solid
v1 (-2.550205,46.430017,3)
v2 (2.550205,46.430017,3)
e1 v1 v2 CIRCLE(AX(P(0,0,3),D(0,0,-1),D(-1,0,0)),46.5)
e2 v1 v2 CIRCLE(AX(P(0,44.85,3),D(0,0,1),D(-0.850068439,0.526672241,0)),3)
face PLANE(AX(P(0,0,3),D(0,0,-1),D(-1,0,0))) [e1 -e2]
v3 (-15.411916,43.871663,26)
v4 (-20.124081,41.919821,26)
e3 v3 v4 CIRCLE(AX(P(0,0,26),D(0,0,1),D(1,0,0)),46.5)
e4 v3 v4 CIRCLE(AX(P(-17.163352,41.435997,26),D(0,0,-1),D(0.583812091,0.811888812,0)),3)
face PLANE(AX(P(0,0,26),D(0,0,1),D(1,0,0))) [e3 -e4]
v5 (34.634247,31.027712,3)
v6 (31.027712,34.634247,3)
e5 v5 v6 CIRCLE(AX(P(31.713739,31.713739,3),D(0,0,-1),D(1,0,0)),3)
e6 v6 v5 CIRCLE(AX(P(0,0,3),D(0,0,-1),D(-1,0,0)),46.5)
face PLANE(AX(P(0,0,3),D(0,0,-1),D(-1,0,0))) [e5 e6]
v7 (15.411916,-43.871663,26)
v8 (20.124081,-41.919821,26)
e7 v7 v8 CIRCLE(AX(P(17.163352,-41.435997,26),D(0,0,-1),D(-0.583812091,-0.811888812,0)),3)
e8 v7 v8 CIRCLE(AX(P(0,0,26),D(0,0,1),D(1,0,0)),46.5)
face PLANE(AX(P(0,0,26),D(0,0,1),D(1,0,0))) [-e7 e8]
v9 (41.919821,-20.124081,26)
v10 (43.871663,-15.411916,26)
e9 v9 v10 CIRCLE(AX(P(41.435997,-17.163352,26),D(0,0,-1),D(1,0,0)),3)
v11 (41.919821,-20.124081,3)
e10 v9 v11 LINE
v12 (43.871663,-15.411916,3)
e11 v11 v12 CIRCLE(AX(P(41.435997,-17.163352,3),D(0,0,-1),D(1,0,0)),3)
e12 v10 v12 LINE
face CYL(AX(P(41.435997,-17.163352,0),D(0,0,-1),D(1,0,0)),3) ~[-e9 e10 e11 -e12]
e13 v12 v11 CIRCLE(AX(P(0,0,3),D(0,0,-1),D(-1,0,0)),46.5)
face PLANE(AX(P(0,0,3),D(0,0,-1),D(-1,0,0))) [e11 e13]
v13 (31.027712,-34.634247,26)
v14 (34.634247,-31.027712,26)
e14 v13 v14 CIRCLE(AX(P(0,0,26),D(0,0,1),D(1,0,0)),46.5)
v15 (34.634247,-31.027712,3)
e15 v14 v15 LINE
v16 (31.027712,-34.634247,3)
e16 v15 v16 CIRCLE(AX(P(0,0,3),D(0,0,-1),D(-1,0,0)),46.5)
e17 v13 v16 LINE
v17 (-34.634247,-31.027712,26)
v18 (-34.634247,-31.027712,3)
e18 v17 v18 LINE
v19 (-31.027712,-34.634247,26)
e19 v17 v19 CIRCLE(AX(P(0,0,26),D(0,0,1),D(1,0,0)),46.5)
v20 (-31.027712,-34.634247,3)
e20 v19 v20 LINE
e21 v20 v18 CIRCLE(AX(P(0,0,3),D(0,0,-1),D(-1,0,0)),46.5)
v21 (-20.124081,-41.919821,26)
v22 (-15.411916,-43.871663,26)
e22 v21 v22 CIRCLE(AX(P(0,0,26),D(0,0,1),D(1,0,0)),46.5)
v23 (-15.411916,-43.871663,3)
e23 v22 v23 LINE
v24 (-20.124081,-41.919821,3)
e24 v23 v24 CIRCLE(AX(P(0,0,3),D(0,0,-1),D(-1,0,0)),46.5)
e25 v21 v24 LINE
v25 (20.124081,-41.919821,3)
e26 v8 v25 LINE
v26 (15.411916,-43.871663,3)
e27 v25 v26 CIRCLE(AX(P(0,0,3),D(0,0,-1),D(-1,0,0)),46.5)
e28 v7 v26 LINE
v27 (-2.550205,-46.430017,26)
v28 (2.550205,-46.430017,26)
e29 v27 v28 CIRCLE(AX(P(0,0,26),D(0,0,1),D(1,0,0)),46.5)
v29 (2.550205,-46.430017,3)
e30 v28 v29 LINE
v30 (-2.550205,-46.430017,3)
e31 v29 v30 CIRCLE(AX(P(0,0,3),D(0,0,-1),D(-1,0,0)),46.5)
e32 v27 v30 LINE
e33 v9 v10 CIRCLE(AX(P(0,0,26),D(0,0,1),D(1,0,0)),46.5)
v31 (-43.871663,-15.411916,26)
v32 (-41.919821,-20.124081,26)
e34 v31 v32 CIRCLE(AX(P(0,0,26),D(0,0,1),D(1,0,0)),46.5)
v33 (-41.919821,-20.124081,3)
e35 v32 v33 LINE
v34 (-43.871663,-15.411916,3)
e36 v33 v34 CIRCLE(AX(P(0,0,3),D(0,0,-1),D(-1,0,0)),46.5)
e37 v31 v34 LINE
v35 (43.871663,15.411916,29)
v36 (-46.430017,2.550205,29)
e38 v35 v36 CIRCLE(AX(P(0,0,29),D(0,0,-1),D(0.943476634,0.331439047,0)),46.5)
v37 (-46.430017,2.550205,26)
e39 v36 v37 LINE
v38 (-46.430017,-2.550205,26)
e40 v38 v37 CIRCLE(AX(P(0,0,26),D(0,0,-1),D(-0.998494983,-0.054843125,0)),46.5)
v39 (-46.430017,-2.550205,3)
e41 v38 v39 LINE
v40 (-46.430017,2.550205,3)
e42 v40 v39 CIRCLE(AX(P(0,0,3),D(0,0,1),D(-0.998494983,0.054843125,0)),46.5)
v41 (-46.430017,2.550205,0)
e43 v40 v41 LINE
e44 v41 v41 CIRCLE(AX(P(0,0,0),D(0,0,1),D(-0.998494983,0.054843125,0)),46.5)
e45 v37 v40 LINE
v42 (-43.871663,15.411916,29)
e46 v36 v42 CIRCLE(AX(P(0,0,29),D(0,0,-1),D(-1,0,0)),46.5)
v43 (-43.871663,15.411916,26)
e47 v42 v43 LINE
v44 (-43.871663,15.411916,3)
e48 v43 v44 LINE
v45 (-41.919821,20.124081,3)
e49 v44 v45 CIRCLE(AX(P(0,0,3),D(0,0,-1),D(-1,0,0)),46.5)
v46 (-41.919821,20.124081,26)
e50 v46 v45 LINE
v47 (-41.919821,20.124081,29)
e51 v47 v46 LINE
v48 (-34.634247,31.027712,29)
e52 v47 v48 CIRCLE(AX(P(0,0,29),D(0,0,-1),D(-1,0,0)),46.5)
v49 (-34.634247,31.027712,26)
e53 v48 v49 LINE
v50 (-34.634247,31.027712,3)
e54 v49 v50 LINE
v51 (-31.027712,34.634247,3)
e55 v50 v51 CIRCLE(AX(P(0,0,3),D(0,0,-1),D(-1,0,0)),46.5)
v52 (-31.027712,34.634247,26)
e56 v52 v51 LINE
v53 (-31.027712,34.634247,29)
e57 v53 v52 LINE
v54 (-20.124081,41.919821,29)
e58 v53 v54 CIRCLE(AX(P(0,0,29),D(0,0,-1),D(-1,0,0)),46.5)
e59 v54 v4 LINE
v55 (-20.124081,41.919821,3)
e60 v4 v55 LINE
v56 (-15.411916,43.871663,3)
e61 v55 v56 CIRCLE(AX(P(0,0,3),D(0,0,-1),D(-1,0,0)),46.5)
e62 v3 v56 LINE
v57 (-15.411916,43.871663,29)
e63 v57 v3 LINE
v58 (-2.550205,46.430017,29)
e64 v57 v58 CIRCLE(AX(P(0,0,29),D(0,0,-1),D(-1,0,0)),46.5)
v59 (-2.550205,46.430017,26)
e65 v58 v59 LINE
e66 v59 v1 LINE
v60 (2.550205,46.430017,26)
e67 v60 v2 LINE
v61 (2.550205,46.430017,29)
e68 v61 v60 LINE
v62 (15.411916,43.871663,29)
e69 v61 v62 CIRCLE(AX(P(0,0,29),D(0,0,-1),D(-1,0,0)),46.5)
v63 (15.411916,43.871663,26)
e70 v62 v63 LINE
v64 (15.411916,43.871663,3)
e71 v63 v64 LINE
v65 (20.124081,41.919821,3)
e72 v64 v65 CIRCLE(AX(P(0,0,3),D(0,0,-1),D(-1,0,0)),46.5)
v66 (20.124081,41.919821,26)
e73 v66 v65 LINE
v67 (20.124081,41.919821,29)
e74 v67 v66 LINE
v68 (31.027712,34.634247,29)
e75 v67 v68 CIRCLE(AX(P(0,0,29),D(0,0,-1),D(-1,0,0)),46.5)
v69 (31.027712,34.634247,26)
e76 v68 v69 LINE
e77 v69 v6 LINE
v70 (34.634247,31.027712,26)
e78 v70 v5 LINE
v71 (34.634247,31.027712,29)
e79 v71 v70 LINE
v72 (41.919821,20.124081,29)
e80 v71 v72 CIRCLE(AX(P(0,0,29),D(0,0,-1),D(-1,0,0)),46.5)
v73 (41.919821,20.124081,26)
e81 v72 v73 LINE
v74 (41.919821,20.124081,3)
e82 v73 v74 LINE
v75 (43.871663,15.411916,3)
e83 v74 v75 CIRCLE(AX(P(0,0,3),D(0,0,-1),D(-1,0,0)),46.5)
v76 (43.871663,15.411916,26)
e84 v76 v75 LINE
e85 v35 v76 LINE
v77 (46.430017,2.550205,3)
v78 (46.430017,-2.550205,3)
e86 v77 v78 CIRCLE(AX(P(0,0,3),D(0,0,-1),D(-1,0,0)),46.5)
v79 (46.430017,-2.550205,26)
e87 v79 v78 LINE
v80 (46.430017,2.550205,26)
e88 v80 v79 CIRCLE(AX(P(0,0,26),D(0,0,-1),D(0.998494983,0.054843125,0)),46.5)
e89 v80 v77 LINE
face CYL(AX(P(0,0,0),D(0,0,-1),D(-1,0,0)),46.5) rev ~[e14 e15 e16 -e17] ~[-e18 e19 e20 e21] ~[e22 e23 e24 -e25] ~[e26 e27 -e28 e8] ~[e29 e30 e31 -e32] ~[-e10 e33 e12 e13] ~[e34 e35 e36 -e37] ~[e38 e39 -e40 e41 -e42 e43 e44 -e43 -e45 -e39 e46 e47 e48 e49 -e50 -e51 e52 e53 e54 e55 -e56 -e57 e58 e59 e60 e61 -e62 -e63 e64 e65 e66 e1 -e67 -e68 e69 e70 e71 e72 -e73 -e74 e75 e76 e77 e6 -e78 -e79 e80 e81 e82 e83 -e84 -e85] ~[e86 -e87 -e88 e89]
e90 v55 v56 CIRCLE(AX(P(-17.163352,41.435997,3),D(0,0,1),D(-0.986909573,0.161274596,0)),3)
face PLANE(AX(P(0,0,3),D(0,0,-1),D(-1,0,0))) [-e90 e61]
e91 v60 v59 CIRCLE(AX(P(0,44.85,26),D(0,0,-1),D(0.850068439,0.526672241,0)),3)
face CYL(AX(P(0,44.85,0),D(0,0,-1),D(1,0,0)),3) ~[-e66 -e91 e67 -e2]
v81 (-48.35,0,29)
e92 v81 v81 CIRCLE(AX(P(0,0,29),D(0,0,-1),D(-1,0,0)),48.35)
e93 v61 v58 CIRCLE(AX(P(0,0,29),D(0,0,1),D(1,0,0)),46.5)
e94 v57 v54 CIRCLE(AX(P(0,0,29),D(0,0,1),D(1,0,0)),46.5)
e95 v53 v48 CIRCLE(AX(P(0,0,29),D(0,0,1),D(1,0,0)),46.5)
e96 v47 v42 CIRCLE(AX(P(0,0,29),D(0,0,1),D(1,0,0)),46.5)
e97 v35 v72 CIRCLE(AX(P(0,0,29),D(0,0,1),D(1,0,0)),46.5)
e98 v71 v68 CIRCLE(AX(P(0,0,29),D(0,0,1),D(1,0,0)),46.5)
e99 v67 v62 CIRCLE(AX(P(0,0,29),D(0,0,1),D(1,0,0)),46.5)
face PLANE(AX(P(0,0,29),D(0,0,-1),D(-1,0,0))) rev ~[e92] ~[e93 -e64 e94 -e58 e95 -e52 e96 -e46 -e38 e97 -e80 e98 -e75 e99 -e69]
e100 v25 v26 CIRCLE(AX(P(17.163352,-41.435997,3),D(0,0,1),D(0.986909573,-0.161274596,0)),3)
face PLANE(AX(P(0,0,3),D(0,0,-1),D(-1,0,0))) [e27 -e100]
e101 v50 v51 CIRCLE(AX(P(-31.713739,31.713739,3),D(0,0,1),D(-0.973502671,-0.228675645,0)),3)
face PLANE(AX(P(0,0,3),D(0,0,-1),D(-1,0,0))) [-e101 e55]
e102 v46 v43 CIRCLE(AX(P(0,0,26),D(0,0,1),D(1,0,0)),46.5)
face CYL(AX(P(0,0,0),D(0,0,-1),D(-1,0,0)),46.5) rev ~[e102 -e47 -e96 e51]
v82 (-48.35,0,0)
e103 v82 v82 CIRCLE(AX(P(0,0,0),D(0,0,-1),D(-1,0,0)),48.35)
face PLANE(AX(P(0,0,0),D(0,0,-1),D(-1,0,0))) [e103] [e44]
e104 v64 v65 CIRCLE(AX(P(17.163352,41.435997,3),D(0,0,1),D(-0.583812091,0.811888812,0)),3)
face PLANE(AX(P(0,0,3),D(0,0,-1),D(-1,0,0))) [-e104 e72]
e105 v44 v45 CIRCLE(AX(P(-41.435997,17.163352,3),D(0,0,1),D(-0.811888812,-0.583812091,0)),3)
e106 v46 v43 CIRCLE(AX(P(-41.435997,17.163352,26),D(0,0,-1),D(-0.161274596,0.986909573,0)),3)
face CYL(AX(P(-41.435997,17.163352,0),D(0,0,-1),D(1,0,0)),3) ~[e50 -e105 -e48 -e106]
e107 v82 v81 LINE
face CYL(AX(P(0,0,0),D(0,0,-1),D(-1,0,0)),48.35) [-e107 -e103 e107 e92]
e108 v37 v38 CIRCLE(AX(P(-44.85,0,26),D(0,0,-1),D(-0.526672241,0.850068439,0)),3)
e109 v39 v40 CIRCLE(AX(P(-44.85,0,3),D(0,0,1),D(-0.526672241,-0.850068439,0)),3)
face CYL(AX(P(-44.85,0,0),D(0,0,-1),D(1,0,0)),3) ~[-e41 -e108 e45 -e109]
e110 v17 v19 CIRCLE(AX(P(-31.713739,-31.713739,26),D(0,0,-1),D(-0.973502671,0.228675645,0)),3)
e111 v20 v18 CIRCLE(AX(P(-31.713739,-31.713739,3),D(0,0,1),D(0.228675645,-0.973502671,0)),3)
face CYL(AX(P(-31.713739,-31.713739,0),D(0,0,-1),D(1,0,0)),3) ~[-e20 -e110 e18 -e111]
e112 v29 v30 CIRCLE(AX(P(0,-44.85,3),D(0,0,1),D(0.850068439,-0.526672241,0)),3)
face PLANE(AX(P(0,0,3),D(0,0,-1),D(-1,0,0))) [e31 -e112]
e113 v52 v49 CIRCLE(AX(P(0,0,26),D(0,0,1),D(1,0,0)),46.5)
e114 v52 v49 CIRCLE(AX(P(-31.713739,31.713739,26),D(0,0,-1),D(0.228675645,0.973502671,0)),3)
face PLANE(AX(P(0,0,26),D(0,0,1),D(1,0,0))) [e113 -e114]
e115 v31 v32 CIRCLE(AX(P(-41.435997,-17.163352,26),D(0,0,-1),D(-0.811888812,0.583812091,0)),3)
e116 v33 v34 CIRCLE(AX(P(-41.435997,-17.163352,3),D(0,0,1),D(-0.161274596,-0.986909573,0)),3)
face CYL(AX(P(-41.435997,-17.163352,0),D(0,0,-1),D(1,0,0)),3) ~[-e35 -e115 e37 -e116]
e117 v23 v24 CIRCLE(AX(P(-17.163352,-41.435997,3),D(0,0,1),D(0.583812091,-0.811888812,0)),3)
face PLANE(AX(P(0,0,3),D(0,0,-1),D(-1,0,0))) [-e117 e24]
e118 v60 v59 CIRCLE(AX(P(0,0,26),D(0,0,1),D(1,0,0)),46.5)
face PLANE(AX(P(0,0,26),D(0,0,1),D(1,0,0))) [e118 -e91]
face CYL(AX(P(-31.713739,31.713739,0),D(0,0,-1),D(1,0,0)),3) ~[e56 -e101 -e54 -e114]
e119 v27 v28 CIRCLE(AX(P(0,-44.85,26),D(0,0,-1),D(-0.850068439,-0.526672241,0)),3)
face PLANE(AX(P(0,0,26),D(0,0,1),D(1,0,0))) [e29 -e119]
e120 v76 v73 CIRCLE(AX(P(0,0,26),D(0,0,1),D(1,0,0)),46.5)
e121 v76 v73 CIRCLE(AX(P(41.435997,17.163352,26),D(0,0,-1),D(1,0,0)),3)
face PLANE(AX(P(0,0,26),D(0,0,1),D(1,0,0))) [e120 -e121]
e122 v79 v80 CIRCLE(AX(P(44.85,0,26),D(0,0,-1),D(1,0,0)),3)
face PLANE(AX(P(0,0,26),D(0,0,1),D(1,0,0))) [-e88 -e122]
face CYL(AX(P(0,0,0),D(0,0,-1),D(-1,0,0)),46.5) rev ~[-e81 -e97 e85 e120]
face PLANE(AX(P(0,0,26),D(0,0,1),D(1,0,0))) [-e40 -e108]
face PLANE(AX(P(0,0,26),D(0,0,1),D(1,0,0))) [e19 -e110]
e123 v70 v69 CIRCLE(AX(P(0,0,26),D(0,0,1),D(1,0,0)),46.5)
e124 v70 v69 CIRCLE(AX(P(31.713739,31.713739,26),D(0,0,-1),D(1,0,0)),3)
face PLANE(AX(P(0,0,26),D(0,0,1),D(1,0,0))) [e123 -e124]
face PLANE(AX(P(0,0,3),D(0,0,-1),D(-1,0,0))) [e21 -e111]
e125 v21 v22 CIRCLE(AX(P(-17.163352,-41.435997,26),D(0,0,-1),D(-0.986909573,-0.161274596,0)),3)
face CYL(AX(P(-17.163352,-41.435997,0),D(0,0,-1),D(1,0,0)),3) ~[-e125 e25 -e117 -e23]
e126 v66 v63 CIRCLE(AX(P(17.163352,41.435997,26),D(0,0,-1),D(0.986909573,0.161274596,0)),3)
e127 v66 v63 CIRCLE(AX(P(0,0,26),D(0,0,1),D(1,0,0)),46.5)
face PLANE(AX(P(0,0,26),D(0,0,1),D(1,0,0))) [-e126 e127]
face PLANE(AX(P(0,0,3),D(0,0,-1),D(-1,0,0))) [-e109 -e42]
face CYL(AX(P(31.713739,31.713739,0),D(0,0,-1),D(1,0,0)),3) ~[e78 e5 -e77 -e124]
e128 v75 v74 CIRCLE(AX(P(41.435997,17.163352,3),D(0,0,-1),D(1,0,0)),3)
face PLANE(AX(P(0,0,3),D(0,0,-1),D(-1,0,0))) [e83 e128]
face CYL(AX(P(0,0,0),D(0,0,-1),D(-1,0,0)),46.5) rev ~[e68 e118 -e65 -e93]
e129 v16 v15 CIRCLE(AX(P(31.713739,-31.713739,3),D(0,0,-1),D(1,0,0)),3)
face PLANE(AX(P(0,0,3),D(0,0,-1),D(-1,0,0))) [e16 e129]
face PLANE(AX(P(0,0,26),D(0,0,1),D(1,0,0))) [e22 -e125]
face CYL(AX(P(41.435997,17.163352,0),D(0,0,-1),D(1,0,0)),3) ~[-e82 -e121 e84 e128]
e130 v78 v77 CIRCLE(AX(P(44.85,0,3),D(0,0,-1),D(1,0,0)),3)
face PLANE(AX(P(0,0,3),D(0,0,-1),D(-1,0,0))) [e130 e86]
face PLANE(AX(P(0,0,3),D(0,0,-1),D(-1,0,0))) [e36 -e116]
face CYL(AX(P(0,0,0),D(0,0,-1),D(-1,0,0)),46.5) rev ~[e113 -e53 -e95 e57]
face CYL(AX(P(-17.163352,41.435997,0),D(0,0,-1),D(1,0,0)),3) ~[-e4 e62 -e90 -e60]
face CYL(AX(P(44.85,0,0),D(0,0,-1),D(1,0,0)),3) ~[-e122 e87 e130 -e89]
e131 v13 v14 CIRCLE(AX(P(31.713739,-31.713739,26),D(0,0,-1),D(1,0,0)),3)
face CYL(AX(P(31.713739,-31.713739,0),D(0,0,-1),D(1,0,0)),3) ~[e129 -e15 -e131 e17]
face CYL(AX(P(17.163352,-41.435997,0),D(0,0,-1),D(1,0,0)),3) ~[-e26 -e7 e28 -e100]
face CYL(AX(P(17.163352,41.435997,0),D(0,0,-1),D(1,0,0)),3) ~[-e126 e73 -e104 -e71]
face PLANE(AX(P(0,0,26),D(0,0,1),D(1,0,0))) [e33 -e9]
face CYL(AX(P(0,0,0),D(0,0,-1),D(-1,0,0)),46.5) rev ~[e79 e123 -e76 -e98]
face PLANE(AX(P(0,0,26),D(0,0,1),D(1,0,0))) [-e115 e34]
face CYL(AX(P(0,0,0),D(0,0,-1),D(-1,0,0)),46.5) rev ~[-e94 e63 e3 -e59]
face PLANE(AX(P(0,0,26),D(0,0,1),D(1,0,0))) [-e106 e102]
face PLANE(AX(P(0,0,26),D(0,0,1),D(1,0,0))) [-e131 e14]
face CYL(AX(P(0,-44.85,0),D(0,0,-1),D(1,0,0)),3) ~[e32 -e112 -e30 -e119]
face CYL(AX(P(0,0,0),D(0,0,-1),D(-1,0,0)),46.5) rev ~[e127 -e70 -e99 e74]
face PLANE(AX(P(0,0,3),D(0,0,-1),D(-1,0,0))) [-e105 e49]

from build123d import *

# Parameters (mm, degrees)
SKETCH1_R              = 3
BOSS_EXTRUDE2_DEPTH    = 29
BOSS_EXTRUDE2_2_DEPTH  = 29
BOSS_EXTRUDE2_3_DEPTH  = 29
BOSS_EXTRUDE2_4_DEPTH  = 29
BOSS_EXTRUDE2_5_DEPTH  = 29
BOSS_EXTRUDE2_6_DEPTH  = 29
BOSS_EXTRUDE2_7_DEPTH  = 29
BOSS_EXTRUDE2_8_DEPTH  = 29
BOSS_EXTRUDE2_9_DEPTH  = 29
BOSS_EXTRUDE2_10_DEPTH = 29
BOSS_EXTRUDE2_11_DEPTH = 29
BOSS_EXTRUDE2_12_DEPTH = 29
BOSS_EXTRUDE2_13_DEPTH = 29
BOSS_EXTRUDE2_14_DEPTH = 29
BOSS_EXTRUDE2_15_DEPTH = 29
BOSS_EXTRUDE2_16_DEPTH = 29
SKETCH2_R              = 47.85
SKETCH2_R_2            = 46.5
BOSS_EXTRUDE4_DEPTH    = 29
SKETCH3_R              = 46.5
CUT_EXTRUDE1_DEPTH     = 3
SKETCH4_R              = 46.5
CUT_EXTRUDE2_DEPTH     = 3
SKETCH5_R              = 48.35
SKETCH5_R_2            = 47.85
BOSS_EXTRUDE6_DEPTH    = 29


with BuildPart() as part:
    # Sketch1 → Boss-Extrude2 (new body)
    with BuildSketch(Plane.XY):
        with Locations((-41.435997033, 17.163351942)):
            Circle(SKETCH1_R)
    extrude(amount=BOSS_EXTRUDE2_DEPTH)


with BuildPart() as body_2:
    # Sketch1 → Boss-Extrude2 2 (new body)
    with BuildSketch(Plane.XY):
        with Locations((-31.713739136, 31.713739136)):
            Circle(SKETCH1_R)
    extrude(amount=BOSS_EXTRUDE2_2_DEPTH)


with BuildPart() as body_3:
    # Sketch1 → Boss-Extrude2 3 (new body)
    with BuildSketch(Plane.XY):
        with Locations((-17.163351942, 41.435997033)):
            Circle(SKETCH1_R)
    extrude(amount=BOSS_EXTRUDE2_3_DEPTH)


with BuildPart() as body_4:
    # Sketch1 → Boss-Extrude2 4 (new body)
    with BuildSketch(Plane.XY):
        with Locations((0, 44.85)):
            Circle(SKETCH1_R)
    extrude(amount=BOSS_EXTRUDE2_4_DEPTH)


with BuildPart() as body_5:
    # Sketch1 → Boss-Extrude2 5 (new body)
    with BuildSketch(Plane.XY):
        with Locations((17.163351942, 41.435997033)):
            Circle(SKETCH1_R)
    extrude(amount=BOSS_EXTRUDE2_5_DEPTH)


with BuildPart() as body_6:
    # Sketch1 → Boss-Extrude2 6 (new body)
    with BuildSketch(Plane.XY):
        with Locations((31.713739136, 31.713739136)):
            Circle(SKETCH1_R)
    extrude(amount=BOSS_EXTRUDE2_6_DEPTH)


with BuildPart() as body_7:
    # Sketch1 → Boss-Extrude2 7 (new body)
    with BuildSketch(Plane.XY):
        with Locations((41.435997033, 17.163351942)):
            Circle(SKETCH1_R)
    extrude(amount=BOSS_EXTRUDE2_7_DEPTH)


with BuildPart() as body_8:
    # Sketch1 → Boss-Extrude2 8 (new body)
    with BuildSketch(Plane.XY):
        with Locations((44.85, 0)):
            Circle(SKETCH1_R)
    extrude(amount=BOSS_EXTRUDE2_8_DEPTH)


with BuildPart() as body_9:
    # Sketch1 → Boss-Extrude2 9 (new body)
    with BuildSketch(Plane.XY):
        with Locations((41.435997033, -17.163351942)):
            Circle(SKETCH1_R)
    extrude(amount=BOSS_EXTRUDE2_9_DEPTH)


with BuildPart() as body_10:
    # Sketch1 → Boss-Extrude2 10 (new body)
    with BuildSketch(Plane.XY):
        with Locations((17.163351942, -41.435997033)):
            Circle(SKETCH1_R)
    extrude(amount=BOSS_EXTRUDE2_10_DEPTH)


with BuildPart() as body_11:
    # Sketch1 → Boss-Extrude2 11 (new body)
    with BuildSketch(Plane.XY):
        with Locations((0, -44.85)):
            Circle(SKETCH1_R)
    extrude(amount=BOSS_EXTRUDE2_11_DEPTH)


with BuildPart() as body_12:
    # Sketch1 → Boss-Extrude2 12 (new body)
    with BuildSketch(Plane.XY):
        with Locations((-17.163351942, -41.435997033)):
            Circle(SKETCH1_R)
    extrude(amount=BOSS_EXTRUDE2_12_DEPTH)


with BuildPart() as body_13:
    # Sketch1 → Boss-Extrude2 13 (new body)
    with BuildSketch(Plane.XY):
        with Locations((-41.435997033, -17.163351942)):
            Circle(SKETCH1_R)
    extrude(amount=BOSS_EXTRUDE2_13_DEPTH)


with BuildPart() as body_14:
    # Sketch1 → Boss-Extrude2 14 (new body)
    with BuildSketch(Plane.XY):
        with Locations((-31.713739136, -31.713739136)):
            Circle(SKETCH1_R)
    extrude(amount=BOSS_EXTRUDE2_14_DEPTH)


with BuildPart() as body_15:
    # Sketch1 → Boss-Extrude2 15 (new body)
    with BuildSketch(Plane.XY):
        with Locations((-44.85, 0)):
            Circle(SKETCH1_R)
    extrude(amount=BOSS_EXTRUDE2_15_DEPTH)


with BuildPart() as body_16:
    # Sketch1 → Boss-Extrude2 16 (new body)
    with BuildSketch(Plane.XY):
        with Locations((31.713739136, -31.713739136)):
            Circle(SKETCH1_R)
    extrude(amount=BOSS_EXTRUDE2_16_DEPTH)


with BuildPart() as body_17:
    # Sketch2 → Boss-Extrude4 (new body)
    with BuildSketch(Plane(origin=(0, 0, 0), x_dir=(-1, 0, 0), z_dir=(0, 0, -1))):
        Circle(SKETCH2_R)
        Circle(SKETCH2_R_2, mode=Mode.SUBTRACT)
    extrude(amount=-BOSS_EXTRUDE4_DEPTH)


with BuildPart() as cut_extrude1_tool:
    # Sketch3 → Cut-Extrude1 (new body)
    with BuildSketch(Plane(origin=(0, 0, 0), x_dir=(-1, 0, 0), z_dir=(0, 0, -1))):
        Circle(SKETCH3_R)
    extrude(amount=-CUT_EXTRUDE1_DEPTH)


with BuildPart() as part_1:
    add(part.part)

    # Cut-Extrude1: cut by cut_extrude1_tool
    add(cut_extrude1_tool.part, mode=Mode.SUBTRACT)


with BuildPart() as body_2_1:
    add(body_2.part)

    # Cut-Extrude1: cut by cut_extrude1_tool
    add(cut_extrude1_tool.part, mode=Mode.SUBTRACT)


with BuildPart() as body_3_1:
    add(body_3.part)

    # Cut-Extrude1: cut by cut_extrude1_tool
    add(cut_extrude1_tool.part, mode=Mode.SUBTRACT)


with BuildPart() as body_4_1:
    add(body_4.part)

    # Cut-Extrude1: cut by cut_extrude1_tool
    add(cut_extrude1_tool.part, mode=Mode.SUBTRACT)


with BuildPart() as body_5_1:
    add(body_5.part)

    # Cut-Extrude1: cut by cut_extrude1_tool
    add(cut_extrude1_tool.part, mode=Mode.SUBTRACT)


with BuildPart() as body_6_1:
    add(body_6.part)

    # Cut-Extrude1: cut by cut_extrude1_tool
    add(cut_extrude1_tool.part, mode=Mode.SUBTRACT)


with BuildPart() as body_7_1:
    add(body_7.part)

    # Cut-Extrude1: cut by cut_extrude1_tool
    add(cut_extrude1_tool.part, mode=Mode.SUBTRACT)


with BuildPart() as body_8_1:
    add(body_8.part)

    # Cut-Extrude1: cut by cut_extrude1_tool
    add(cut_extrude1_tool.part, mode=Mode.SUBTRACT)


with BuildPart() as body_9_1:
    add(body_9.part)

    # Cut-Extrude1: cut by cut_extrude1_tool
    add(cut_extrude1_tool.part, mode=Mode.SUBTRACT)


with BuildPart() as body_10_1:
    add(body_10.part)

    # Cut-Extrude1: cut by cut_extrude1_tool
    add(cut_extrude1_tool.part, mode=Mode.SUBTRACT)


with BuildPart() as body_11_1:
    add(body_11.part)

    # Cut-Extrude1: cut by cut_extrude1_tool
    add(cut_extrude1_tool.part, mode=Mode.SUBTRACT)


with BuildPart() as body_12_1:
    add(body_12.part)

    # Cut-Extrude1: cut by cut_extrude1_tool
    add(cut_extrude1_tool.part, mode=Mode.SUBTRACT)


with BuildPart() as body_13_1:
    add(body_13.part)

    # Cut-Extrude1: cut by cut_extrude1_tool
    add(cut_extrude1_tool.part, mode=Mode.SUBTRACT)


with BuildPart() as body_14_1:
    add(body_14.part)

    # Cut-Extrude1: cut by cut_extrude1_tool
    add(cut_extrude1_tool.part, mode=Mode.SUBTRACT)


with BuildPart() as body_15_1:
    add(body_15.part)

    # Cut-Extrude1: cut by cut_extrude1_tool
    add(cut_extrude1_tool.part, mode=Mode.SUBTRACT)


with BuildPart() as body_16_1:
    add(body_16.part)

    # Cut-Extrude1: cut by cut_extrude1_tool
    add(cut_extrude1_tool.part, mode=Mode.SUBTRACT)


with BuildPart() as cut_extrude2_tool:
    # Sketch4 → Cut-Extrude2 (new body)
    with BuildSketch(Plane.XY.offset(29)):
        Circle(SKETCH4_R)
    extrude(amount=-CUT_EXTRUDE2_DEPTH)


with BuildPart() as part_2:
    add(part_1.part)

    # Cut-Extrude2: cut by cut_extrude2_tool
    add(cut_extrude2_tool.part, mode=Mode.SUBTRACT)



with BuildPart() as body_2_2:
    add(body_2_1.part)

    # Cut-Extrude2: cut by cut_extrude2_tool
    add(cut_extrude2_tool.part, mode=Mode.SUBTRACT)


with BuildPart() as body_3_2:
    add(body_3_1.part)

    # Cut-Extrude2: cut by cut_extrude2_tool
    add(cut_extrude2_tool.part, mode=Mode.SUBTRACT)


with BuildPart() as body_4_2:
    add(body_4_1.part)

    # Cut-Extrude2: cut by cut_extrude2_tool
    add(cut_extrude2_tool.part, mode=Mode.SUBTRACT)


with BuildPart() as body_5_2:
    add(body_5_1.part)

    # Cut-Extrude2: cut by cut_extrude2_tool
    add(cut_extrude2_tool.part, mode=Mode.SUBTRACT)


with BuildPart() as body_6_2:
    add(body_6_1.part)

    # Cut-Extrude2: cut by cut_extrude2_tool
    add(cut_extrude2_tool.part, mode=Mode.SUBTRACT)


with BuildPart() as body_7_2:
    add(body_7_1.part)

    # Cut-Extrude2: cut by cut_extrude2_tool
    add(cut_extrude2_tool.part, mode=Mode.SUBTRACT)


with BuildPart() as body_8_2:
    add(body_8_1.part)

    # Cut-Extrude2: cut by cut_extrude2_tool
    add(cut_extrude2_tool.part, mode=Mode.SUBTRACT)


with BuildPart() as body_9_2:
    add(body_9_1.part)

    # Cut-Extrude2: cut by cut_extrude2_tool
    add(cut_extrude2_tool.part, mode=Mode.SUBTRACT)


with BuildPart() as body_10_2:
    add(body_10_1.part)

    # Cut-Extrude2: cut by cut_extrude2_tool
    add(cut_extrude2_tool.part, mode=Mode.SUBTRACT)


with BuildPart() as body_11_2:
    add(body_11_1.part)

    # Cut-Extrude2: cut by cut_extrude2_tool
    add(cut_extrude2_tool.part, mode=Mode.SUBTRACT)


with BuildPart() as body_12_2:
    add(body_12_1.part)

    # Cut-Extrude2: cut by cut_extrude2_tool
    add(cut_extrude2_tool.part, mode=Mode.SUBTRACT)


with BuildPart() as body_13_2:
    add(body_13_1.part)

    # Cut-Extrude2: cut by cut_extrude2_tool
    add(cut_extrude2_tool.part, mode=Mode.SUBTRACT)


with BuildPart() as body_14_2:
    add(body_14_1.part)

    # Cut-Extrude2: cut by cut_extrude2_tool
    add(cut_extrude2_tool.part, mode=Mode.SUBTRACT)


with BuildPart() as body_15_2:
    add(body_15_1.part)

    # Cut-Extrude2: cut by cut_extrude2_tool
    add(cut_extrude2_tool.part, mode=Mode.SUBTRACT)


with BuildPart() as body_16_2:
    add(body_16_1.part)

    # Cut-Extrude2: cut by cut_extrude2_tool
    add(cut_extrude2_tool.part, mode=Mode.SUBTRACT)


with BuildPart() as part_3:
    add(part_2.part)

    add(body_2_2.part)  # Boss-Extrude6 merges body 2

    add(body_3_2.part)  # Boss-Extrude6 merges body 3

    add(body_4_2.part)  # Boss-Extrude6 merges body 4

    add(body_5_2.part)  # Boss-Extrude6 merges body 5

    add(body_6_2.part)  # Boss-Extrude6 merges body 6

    add(body_7_2.part)  # Boss-Extrude6 merges body 7

    add(body_8_2.part)  # Boss-Extrude6 merges body 8

    add(body_9_2.part)  # Boss-Extrude6 merges body 9

    add(body_10_2.part)  # Boss-Extrude6 merges body 10

    add(body_11_2.part)  # Boss-Extrude6 merges body 11

    add(body_12_2.part)  # Boss-Extrude6 merges body 12

    add(body_13_2.part)  # Boss-Extrude6 merges body 13

    add(body_14_2.part)  # Boss-Extrude6 merges body 14

    add(body_15_2.part)  # Boss-Extrude6 merges body 15

    add(body_16_2.part)  # Boss-Extrude6 merges body 16

    add(body_17.part)  # Boss-Extrude6 merges body 17
    # Sketch5 → Boss-Extrude6 (add)
    with BuildSketch(Plane(origin=(0, 0, 0), x_dir=(-1, 0, 0), z_dir=(0, 0, -1))):
        Circle(SKETCH5_R)
        Circle(SKETCH5_R_2, mode=Mode.SUBTRACT)
    extrude(amount=-BOSS_EXTRUDE6_DEPTH)


solid = part_3.part
